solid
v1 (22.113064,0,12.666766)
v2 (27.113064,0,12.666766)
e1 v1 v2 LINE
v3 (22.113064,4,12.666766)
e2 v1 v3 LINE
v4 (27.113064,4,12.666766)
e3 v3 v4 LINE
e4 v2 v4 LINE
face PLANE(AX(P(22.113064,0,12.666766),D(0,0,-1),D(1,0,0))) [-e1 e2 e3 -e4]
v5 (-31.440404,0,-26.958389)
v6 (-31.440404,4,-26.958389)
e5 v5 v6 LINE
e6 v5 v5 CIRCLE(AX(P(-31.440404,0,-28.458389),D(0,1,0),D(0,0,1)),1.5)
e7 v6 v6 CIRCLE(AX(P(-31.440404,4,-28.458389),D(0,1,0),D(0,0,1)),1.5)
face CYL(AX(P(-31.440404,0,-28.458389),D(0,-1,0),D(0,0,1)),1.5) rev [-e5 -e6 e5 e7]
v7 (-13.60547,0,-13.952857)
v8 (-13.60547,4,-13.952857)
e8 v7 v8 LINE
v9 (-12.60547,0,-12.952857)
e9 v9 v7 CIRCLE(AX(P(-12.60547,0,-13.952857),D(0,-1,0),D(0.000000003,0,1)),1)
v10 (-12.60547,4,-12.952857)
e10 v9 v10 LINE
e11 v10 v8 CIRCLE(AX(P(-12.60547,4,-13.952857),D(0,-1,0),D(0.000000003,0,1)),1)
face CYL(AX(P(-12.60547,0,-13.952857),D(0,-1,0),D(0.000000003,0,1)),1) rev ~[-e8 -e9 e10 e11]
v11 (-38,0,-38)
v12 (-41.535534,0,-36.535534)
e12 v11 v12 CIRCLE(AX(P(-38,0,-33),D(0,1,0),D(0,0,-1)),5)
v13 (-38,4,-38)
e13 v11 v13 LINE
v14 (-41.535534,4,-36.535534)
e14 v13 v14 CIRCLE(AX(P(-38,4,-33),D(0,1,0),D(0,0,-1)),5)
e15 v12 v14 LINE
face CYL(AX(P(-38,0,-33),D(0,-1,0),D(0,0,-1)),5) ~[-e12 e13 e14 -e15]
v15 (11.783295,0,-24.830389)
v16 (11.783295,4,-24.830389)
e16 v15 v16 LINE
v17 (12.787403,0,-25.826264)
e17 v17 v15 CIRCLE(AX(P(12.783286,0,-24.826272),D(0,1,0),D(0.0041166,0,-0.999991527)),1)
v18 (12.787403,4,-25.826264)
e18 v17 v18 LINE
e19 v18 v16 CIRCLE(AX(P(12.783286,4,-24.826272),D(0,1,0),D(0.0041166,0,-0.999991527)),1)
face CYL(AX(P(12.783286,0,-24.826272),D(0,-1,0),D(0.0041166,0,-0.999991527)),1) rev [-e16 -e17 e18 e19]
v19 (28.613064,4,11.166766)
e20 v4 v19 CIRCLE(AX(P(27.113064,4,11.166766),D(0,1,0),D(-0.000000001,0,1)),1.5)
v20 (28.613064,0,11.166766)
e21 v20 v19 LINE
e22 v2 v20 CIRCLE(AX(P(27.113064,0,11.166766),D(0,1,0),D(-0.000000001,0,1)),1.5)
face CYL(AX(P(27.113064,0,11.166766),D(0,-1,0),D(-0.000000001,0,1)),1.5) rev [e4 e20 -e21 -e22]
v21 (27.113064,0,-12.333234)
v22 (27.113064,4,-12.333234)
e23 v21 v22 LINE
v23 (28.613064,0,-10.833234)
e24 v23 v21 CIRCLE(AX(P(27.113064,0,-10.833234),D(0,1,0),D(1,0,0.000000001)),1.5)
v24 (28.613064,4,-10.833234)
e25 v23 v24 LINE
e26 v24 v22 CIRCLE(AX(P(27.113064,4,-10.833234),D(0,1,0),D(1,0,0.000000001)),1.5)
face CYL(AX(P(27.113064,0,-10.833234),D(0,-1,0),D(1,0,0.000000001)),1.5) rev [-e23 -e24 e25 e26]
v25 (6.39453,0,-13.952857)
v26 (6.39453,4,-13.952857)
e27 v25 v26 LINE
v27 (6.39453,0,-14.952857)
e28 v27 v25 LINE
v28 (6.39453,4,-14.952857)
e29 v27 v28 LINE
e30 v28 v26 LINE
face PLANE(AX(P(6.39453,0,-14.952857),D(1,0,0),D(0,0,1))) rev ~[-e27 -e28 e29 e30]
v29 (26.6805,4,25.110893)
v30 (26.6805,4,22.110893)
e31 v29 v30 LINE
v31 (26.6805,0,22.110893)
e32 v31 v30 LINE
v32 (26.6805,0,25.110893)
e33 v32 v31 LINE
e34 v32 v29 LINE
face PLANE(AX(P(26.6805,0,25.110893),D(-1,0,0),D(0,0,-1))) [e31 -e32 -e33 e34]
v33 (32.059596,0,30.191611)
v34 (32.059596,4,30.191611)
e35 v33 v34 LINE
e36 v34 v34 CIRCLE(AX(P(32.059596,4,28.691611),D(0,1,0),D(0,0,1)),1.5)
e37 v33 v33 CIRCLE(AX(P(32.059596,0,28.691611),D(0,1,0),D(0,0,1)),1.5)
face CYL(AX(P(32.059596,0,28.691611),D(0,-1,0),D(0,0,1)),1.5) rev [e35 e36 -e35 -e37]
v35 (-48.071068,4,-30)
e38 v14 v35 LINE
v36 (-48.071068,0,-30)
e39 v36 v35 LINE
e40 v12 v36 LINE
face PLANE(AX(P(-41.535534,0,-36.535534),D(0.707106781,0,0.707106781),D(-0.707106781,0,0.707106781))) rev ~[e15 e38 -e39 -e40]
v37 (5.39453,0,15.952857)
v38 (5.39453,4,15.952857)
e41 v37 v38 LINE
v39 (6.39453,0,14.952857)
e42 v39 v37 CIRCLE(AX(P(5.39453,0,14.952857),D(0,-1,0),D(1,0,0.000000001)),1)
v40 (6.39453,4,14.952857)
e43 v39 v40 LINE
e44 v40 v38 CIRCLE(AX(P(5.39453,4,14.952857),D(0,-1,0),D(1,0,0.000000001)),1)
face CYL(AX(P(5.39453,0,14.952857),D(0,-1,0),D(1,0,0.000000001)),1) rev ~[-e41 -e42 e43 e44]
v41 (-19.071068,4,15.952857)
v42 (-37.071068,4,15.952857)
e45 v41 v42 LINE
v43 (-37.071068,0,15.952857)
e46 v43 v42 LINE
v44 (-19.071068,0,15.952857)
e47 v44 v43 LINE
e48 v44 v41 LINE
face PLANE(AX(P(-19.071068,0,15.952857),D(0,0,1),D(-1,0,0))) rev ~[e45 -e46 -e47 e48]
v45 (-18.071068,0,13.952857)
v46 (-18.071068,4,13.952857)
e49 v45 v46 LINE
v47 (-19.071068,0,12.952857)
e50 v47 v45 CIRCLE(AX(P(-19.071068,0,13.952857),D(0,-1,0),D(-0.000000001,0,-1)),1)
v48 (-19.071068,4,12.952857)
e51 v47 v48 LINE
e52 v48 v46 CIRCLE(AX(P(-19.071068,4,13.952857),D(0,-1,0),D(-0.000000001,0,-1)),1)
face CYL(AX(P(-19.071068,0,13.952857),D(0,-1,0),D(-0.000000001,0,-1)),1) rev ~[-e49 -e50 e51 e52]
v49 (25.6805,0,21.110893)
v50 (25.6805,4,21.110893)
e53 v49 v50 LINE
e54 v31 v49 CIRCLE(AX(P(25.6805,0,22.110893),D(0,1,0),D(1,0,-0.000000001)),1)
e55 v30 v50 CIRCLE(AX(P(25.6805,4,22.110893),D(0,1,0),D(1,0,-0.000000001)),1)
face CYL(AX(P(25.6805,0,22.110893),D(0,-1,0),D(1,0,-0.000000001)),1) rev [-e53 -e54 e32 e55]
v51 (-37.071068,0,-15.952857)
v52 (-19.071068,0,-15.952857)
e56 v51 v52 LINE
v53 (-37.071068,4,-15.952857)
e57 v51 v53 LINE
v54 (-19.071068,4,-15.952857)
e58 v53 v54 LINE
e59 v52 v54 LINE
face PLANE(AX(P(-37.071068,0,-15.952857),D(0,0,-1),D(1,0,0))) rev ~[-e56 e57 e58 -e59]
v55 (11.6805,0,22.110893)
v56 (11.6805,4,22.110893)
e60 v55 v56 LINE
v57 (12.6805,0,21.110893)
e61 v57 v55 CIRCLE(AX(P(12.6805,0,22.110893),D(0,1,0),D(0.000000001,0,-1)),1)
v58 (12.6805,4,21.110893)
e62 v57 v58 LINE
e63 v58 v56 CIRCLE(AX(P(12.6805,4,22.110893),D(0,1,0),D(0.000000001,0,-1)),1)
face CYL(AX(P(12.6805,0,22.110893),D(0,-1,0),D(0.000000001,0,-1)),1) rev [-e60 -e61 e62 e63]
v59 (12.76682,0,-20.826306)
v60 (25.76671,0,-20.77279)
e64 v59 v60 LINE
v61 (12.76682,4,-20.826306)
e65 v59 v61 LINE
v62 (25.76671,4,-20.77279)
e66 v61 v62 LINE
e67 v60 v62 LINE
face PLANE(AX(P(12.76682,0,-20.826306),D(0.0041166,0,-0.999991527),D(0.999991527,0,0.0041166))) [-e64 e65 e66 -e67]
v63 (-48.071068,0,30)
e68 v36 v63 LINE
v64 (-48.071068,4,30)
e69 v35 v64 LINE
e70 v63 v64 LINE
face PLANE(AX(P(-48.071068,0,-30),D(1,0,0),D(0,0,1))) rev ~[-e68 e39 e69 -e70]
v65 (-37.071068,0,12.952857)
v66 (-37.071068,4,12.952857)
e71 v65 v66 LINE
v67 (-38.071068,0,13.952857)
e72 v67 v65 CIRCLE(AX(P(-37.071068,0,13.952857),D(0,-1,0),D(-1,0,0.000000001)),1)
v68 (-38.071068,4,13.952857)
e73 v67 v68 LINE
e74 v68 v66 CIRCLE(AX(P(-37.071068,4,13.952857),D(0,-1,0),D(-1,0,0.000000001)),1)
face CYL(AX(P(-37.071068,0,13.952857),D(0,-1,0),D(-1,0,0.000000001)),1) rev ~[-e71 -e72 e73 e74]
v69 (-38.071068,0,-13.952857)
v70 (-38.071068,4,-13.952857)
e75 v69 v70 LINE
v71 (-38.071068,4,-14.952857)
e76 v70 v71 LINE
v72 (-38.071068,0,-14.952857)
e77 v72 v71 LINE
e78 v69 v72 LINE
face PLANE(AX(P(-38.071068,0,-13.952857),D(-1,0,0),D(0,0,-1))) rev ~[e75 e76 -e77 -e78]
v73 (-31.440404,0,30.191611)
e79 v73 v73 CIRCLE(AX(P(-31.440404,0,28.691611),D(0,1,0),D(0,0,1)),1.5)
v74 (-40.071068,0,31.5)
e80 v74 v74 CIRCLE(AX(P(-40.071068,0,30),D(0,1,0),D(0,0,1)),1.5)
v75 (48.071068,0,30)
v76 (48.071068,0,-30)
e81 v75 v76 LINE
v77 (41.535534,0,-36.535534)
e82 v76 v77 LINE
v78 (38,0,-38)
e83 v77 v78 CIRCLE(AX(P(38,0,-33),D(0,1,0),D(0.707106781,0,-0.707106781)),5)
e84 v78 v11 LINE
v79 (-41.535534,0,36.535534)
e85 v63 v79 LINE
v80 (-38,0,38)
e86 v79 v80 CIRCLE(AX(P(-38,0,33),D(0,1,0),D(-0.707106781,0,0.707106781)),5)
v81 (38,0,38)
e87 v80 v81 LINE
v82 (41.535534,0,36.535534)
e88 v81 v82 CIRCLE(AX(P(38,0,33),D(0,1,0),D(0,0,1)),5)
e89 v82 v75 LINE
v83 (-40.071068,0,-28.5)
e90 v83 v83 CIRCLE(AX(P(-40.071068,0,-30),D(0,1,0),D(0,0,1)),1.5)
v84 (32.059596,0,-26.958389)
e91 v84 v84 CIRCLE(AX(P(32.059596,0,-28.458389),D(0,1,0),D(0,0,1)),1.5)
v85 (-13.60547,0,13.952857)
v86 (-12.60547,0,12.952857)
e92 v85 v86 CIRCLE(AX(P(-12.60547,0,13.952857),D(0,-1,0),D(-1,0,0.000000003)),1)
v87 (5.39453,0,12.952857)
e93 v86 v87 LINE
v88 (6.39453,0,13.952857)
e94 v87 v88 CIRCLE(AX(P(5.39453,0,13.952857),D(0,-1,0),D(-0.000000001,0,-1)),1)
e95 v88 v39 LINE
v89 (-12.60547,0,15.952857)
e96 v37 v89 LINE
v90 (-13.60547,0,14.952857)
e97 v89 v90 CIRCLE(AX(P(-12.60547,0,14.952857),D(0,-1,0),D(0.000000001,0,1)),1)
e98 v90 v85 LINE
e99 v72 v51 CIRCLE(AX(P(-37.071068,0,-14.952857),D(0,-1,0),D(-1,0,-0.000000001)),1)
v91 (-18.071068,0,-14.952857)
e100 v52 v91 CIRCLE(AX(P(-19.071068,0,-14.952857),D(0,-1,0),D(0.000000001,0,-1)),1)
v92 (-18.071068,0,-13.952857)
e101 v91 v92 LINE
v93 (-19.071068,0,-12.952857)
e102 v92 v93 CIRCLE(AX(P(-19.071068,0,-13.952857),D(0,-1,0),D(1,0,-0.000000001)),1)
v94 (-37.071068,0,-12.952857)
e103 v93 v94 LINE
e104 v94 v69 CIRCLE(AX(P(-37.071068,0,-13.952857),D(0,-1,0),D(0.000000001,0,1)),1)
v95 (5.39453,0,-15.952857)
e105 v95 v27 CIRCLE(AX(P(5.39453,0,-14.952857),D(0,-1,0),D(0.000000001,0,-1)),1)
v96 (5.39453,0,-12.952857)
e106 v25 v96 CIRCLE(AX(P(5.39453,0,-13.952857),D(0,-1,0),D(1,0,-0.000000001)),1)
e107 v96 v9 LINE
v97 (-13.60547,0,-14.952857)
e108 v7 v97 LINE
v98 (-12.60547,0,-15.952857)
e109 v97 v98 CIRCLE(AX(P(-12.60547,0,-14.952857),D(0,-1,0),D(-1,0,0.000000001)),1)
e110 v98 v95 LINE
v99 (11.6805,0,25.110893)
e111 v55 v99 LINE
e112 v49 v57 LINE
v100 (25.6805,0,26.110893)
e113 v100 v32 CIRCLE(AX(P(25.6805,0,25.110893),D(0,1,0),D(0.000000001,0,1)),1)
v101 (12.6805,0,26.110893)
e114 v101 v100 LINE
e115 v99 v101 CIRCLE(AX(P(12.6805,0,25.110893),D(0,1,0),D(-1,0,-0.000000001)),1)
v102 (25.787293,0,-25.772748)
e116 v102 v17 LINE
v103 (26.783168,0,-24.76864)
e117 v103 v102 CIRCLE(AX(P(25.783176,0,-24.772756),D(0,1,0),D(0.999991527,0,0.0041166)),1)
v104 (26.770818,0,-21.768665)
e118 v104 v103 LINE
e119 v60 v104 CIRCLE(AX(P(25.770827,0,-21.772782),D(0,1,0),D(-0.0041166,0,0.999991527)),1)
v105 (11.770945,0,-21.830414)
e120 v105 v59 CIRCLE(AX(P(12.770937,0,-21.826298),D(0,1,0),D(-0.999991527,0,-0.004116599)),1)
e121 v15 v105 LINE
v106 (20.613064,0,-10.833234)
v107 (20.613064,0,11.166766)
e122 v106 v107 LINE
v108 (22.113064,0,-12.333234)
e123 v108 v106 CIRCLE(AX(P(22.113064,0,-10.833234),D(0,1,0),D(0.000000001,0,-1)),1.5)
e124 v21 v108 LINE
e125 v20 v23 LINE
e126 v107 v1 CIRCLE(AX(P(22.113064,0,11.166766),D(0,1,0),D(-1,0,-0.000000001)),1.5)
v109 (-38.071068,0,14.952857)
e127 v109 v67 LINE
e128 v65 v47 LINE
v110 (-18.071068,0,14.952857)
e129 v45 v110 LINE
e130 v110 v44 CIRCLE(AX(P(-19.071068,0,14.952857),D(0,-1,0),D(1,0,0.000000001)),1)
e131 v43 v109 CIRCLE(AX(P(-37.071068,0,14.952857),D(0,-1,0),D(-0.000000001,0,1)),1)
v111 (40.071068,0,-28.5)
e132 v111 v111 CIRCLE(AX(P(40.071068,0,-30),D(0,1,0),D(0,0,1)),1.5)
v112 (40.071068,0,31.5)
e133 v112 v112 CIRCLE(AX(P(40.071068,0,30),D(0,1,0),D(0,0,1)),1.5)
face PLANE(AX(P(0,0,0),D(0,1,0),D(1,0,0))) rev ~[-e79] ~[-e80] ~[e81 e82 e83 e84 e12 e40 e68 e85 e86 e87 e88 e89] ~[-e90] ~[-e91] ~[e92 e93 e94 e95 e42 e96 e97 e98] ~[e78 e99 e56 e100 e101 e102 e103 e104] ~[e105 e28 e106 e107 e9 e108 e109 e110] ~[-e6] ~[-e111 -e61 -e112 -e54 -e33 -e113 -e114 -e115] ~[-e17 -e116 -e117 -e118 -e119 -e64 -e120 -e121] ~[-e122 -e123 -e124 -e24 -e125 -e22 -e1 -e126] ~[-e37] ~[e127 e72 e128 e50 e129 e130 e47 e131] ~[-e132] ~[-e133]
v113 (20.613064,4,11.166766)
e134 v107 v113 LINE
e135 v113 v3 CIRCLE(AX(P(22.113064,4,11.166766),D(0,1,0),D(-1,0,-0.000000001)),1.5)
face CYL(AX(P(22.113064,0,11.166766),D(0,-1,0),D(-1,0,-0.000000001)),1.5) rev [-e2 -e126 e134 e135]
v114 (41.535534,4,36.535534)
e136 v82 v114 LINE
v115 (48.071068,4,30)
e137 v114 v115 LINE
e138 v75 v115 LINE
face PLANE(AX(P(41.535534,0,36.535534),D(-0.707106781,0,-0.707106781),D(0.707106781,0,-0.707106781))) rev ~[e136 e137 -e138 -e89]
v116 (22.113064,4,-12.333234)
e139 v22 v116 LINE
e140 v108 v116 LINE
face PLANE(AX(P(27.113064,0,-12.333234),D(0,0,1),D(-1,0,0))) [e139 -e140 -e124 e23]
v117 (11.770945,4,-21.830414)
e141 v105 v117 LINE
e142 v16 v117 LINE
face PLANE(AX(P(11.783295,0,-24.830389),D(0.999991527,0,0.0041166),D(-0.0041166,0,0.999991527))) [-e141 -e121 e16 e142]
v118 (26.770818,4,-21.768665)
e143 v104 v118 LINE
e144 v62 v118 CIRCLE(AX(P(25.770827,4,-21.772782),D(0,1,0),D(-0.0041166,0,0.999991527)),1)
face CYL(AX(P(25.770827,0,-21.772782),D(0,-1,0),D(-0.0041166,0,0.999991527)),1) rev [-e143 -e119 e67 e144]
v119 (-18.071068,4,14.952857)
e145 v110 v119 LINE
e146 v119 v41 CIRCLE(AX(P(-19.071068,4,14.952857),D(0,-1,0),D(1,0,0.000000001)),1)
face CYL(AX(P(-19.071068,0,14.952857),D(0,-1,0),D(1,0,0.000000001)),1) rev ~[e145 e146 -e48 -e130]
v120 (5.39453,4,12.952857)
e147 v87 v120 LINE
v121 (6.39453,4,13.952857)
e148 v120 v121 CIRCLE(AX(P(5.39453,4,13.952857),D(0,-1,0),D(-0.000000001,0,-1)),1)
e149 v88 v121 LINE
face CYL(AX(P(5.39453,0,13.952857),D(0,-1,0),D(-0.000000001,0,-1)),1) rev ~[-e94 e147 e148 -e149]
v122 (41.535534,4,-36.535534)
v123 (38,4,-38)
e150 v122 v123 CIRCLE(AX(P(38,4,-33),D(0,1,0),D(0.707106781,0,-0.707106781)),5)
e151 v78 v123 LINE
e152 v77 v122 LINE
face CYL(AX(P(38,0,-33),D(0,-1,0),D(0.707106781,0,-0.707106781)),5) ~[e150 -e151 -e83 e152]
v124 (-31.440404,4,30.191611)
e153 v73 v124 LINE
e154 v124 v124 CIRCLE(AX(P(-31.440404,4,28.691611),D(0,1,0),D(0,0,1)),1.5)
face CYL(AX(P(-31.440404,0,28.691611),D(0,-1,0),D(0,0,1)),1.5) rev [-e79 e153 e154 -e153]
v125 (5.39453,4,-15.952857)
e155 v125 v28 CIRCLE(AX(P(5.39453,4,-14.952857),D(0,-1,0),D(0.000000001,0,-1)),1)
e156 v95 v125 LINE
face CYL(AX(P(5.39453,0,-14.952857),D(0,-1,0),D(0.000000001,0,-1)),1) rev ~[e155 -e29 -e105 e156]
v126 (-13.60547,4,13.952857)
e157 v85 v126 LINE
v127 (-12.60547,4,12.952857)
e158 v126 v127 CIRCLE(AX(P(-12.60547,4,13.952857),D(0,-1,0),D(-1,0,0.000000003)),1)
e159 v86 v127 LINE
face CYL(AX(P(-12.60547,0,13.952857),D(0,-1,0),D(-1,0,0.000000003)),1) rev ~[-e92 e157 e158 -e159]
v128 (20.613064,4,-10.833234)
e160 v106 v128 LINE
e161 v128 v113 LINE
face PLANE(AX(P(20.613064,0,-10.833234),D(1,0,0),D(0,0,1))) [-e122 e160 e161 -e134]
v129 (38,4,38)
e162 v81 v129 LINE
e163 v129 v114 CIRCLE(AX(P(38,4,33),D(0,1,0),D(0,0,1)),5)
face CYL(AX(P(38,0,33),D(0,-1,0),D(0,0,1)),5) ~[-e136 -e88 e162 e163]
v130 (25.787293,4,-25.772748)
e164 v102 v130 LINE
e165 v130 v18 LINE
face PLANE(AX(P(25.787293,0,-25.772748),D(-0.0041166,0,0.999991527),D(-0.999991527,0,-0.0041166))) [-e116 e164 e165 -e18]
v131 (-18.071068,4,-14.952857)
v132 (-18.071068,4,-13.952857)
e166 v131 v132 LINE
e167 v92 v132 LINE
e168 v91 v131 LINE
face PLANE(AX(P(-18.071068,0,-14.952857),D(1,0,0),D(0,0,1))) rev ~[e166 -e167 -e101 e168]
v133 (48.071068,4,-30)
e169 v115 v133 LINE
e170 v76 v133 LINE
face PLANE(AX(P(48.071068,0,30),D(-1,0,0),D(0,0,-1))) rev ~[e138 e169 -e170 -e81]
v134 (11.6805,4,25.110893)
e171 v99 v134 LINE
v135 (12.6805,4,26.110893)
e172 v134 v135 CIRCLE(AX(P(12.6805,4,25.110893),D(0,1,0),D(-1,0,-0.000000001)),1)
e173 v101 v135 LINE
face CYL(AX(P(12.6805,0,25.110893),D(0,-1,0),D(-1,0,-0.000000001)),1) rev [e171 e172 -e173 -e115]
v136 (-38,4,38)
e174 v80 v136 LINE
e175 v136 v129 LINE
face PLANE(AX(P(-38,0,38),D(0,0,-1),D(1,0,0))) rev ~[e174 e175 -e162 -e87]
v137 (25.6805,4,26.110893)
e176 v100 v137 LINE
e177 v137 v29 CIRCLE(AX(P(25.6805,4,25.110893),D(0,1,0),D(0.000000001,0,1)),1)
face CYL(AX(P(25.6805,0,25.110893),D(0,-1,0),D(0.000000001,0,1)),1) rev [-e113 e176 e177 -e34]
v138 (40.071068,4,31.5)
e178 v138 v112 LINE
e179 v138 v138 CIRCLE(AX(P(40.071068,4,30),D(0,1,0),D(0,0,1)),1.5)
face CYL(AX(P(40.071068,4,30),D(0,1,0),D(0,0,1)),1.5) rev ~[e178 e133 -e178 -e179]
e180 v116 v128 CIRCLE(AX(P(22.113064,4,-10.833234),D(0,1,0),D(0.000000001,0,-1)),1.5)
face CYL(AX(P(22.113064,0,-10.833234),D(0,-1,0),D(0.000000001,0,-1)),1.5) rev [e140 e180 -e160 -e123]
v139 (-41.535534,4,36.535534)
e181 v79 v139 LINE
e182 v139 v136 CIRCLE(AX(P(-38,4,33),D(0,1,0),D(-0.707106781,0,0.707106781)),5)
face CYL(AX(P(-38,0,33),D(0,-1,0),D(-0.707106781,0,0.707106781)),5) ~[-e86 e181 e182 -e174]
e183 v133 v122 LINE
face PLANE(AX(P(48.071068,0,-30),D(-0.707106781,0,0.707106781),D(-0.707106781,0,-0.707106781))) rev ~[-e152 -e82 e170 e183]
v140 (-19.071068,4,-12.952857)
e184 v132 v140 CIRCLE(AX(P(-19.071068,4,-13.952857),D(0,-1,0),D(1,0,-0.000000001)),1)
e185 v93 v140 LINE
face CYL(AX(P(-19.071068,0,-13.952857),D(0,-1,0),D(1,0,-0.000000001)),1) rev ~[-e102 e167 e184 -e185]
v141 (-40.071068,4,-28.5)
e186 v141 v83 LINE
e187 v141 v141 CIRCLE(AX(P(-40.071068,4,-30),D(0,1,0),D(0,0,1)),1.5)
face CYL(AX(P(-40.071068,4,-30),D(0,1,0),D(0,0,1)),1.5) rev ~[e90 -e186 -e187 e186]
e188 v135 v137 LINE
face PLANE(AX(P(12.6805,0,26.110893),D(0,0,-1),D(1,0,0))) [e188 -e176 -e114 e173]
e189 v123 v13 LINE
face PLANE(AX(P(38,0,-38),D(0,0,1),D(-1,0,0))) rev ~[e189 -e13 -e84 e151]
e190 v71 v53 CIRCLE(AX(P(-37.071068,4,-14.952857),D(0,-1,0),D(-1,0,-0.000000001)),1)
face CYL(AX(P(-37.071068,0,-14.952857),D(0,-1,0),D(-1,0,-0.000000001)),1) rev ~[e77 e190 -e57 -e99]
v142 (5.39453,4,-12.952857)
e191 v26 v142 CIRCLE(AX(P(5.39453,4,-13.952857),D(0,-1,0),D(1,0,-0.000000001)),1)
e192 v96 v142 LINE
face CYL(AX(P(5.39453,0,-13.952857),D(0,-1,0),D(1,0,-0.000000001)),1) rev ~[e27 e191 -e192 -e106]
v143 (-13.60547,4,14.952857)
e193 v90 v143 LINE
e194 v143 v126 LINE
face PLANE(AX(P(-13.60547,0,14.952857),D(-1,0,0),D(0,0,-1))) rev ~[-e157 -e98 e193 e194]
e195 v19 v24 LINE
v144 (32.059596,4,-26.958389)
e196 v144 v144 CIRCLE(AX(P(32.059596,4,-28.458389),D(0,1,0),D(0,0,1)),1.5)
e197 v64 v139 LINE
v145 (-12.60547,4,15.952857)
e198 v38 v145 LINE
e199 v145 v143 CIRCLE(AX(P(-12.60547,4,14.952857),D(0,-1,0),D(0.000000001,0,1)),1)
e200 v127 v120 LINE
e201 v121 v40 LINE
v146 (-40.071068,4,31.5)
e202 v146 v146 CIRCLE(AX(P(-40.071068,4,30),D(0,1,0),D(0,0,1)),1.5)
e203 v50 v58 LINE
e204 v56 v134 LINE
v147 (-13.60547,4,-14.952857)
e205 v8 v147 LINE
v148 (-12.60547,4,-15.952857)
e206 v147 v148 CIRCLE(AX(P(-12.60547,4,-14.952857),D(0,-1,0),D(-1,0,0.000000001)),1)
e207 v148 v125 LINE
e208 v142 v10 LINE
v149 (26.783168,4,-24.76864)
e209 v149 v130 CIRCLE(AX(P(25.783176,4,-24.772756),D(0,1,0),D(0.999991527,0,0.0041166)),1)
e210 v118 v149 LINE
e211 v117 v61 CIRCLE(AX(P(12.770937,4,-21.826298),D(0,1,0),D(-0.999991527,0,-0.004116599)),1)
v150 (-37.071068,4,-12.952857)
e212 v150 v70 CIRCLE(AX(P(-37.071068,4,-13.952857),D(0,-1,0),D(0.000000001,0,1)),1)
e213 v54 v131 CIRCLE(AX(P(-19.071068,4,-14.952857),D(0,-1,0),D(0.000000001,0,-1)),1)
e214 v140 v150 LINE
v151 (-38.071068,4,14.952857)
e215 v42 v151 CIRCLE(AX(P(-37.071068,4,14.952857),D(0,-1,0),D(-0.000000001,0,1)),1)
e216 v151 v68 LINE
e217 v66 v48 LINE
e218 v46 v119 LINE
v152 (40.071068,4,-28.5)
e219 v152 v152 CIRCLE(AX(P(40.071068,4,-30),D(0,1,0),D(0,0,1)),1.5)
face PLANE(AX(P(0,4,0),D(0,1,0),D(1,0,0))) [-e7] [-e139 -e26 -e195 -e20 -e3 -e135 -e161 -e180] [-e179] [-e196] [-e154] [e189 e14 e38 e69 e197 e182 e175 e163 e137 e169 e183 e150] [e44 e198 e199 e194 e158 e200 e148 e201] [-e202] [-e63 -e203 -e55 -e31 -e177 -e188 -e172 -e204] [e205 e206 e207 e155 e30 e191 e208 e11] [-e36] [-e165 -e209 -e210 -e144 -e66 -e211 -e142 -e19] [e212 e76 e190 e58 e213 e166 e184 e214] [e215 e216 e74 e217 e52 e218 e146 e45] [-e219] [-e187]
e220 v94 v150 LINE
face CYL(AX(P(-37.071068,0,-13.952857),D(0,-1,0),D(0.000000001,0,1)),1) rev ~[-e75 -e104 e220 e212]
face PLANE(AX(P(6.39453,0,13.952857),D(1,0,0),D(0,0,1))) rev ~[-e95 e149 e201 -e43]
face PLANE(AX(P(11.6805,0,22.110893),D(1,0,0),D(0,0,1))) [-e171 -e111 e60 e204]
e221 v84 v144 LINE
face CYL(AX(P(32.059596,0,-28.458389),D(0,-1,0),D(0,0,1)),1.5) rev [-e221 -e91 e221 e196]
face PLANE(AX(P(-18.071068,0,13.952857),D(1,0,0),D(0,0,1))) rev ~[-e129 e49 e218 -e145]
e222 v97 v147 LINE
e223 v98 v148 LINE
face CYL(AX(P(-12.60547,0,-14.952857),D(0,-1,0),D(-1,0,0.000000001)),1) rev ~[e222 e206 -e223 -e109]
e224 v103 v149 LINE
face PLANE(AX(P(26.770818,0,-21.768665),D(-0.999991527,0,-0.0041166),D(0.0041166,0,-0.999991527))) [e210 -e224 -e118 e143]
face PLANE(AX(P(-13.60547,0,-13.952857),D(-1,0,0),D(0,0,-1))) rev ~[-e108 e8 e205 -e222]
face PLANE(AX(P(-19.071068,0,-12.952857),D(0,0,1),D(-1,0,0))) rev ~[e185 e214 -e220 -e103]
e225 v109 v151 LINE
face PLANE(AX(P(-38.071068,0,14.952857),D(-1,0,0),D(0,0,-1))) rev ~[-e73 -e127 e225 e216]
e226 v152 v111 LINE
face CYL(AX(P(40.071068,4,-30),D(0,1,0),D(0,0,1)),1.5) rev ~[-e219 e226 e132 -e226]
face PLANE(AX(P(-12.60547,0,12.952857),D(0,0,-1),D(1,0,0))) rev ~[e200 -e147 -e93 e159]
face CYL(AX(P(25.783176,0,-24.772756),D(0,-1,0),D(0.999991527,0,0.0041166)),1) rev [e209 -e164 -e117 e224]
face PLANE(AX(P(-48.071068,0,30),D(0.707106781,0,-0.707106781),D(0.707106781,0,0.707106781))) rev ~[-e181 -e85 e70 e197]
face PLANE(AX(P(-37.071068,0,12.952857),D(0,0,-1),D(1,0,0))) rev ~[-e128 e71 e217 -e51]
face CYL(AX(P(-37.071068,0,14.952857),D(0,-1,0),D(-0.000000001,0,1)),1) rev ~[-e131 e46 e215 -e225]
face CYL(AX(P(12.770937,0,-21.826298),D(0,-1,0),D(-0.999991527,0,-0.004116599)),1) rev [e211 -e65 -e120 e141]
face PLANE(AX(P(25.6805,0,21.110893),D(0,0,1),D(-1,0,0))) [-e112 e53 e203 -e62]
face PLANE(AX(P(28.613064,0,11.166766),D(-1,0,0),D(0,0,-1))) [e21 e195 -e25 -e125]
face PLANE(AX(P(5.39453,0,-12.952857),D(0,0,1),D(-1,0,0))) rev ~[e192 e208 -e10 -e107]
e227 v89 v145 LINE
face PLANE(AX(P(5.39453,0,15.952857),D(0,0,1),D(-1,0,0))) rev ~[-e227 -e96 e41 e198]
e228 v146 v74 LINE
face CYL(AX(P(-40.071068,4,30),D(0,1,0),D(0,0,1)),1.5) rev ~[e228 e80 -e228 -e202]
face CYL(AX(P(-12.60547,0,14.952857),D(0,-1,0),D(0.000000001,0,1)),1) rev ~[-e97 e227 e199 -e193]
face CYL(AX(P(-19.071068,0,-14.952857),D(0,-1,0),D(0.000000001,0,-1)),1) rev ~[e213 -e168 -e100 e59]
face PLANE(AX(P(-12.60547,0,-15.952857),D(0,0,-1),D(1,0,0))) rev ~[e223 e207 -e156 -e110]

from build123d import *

# Parameters (mm, degrees)
SKETCH1_R           = 1.5
BOSS_EXTRUDE1_DEPTH = 4
SKETCH2_R           = 1.5
CUT_EXTRUDE1_DEPTH  = 10


with BuildPart() as part:
    # Sketch1 → Boss-Extrude1 (new body)
    with BuildSketch(Plane(origin=(0, 0, 0), x_dir=(1, 0, 0), z_dir=(0, 1, 0))):
        with BuildLine():
            Line((-48.071067812, 30), (-48.071067812, -30))
            Line((-48.071067812, -30), (-41.535533906, -36.535533906))
            ThreePointArc((-41.535533906, -36.535533906), (-39.913417162, -37.619397663), (-38, -38))
            Line((-38, -38), (38, -38))
            ThreePointArc((38, -38), (39.913417162, -37.619397663), (41.535533906, -36.535533906))
            Line((41.535533906, -36.535533906), (48.071067812, -30))
            Line((48.071067812, -30), (48.071067812, 30))
            Line((48.071067812, 30), (41.535533906, 36.535533906))
            ThreePointArc((41.535533906, 36.535533906), (39.913417162, 37.619397663), (38, 38))
            Line((38, 38), (-38, 38))
            ThreePointArc((-38, 38), (-39.913417162, 37.619397663), (-41.535533906, 36.535533906))
            Line((-41.535533906, 36.535533906), (-48.071067812, 30))
        make_face()
        with Locations(Location((32.059596398, -28.691611003, 0), (0, 0, 270))):
            Circle(SKETCH1_R, mode=Mode.SUBTRACT)
        with Locations(Location((32.059596398, 28.458388997, 0), (0, 0, 270))):
            Circle(SKETCH1_R, mode=Mode.SUBTRACT)
        with Locations(Location((-31.440403602, -28.691611003, 0), (0, 0, 270))):
            Circle(SKETCH1_R, mode=Mode.SUBTRACT)
        with Locations(Location((-31.440403602, 28.458388997, 0), (0, 0, 270))):
            Circle(SKETCH1_R, mode=Mode.SUBTRACT)
        with BuildLine():
            Line((26.770818028, 21.768665175), (26.783167828, 24.768639755))
            ThreePointArc((26.783167828, 24.768639755), (26.493187967, 25.476946269), (25.787292902, 25.772747882))
            Line((25.787292902, 25.772747882), (12.787403054, 25.826263684))
            ThreePointArc((12.787403054, 25.826263684), (12.07909654, 25.536283823), (11.783294927, 24.830388757))
            Line((11.783294927, 24.830388757), (11.770945126, 21.830414177))
            ThreePointArc((11.770945126, 21.830414177), (12.060924988, 21.122107663), (12.766820053, 20.82630605))
            Line((12.766820053, 20.82630605), (25.766709901, 20.772790248))
            ThreePointArc((25.766709901, 20.772790248), (26.475016415, 21.062770109), (26.770818028, 21.768665175))
        make_face(mode=Mode.SUBTRACT)
        with BuildLine():
            Line((28.613064126, -11.166765747), (28.613064126, 10.833234253))
            ThreePointArc((28.613064126, 10.833234253), (28.173724298, 11.893894425), (27.113064126, 12.333234253))
            Line((27.113064126, 12.333234253), (22.113064126, 12.333234253))
            ThreePointArc((22.113064126, 12.333234253), (21.052403954, 11.893894425), (20.613064126, 10.833234253))
            Line((20.613064126, 10.833234253), (20.613064126, -11.166765747))
            ThreePointArc((20.613064126, -11.166765747), (21.052403954, -12.227425919), (22.113064126, -12.666765747))
            Line((22.113064126, -12.666765747), (27.113064126, -12.666765747))
            ThreePointArc((27.113064126, -12.666765747), (28.173724298, -12.227425919), (28.613064126, -11.166765747))
        make_face(mode=Mode.SUBTRACT)
        with BuildLine():
            Line((26.680500347, -25.110893415), (26.680500347, -22.110893415))
            ThreePointArc((26.680500347, -22.110893415), (26.387607128, -21.403786634), (25.680500347, -21.110893415))
            Line((25.680500347, -21.110893415), (12.680500347, -21.110893415))
            ThreePointArc((12.680500347, -21.110893415), (11.973393565, -21.403786634), (11.680500347, -22.110893415))
            Line((11.680500347, -22.110893415), (11.680500347, -25.110893415))
            ThreePointArc((11.680500347, -25.110893415), (11.973393565, -25.818000196), (12.680500347, -26.110893415))
            Line((12.680500347, -26.110893415), (25.680500347, -26.110893415))
            ThreePointArc((25.680500347, -26.110893415), (26.387607128, -25.818000196), (26.680500347, -25.110893415))
        make_face(mode=Mode.SUBTRACT)
        with BuildLine():
            Line((-37.071067812, 15.952856913), (-19.071067812, 15.952856913))
            ThreePointArc((-19.071067812, 15.952856913), (-18.363961031, 15.659963694), (-18.071067812, 14.952856913))
            Line((-18.071067812, 14.952856913), (-18.071067812, 13.952856913))
            ThreePointArc((-18.071067812, 13.952856913), (-18.363961031, 13.245750131), (-19.071067812, 12.952856913))
            Line((-19.071067812, 12.952856913), (-37.071067812, 12.952856913))
            ThreePointArc((-37.071067812, 12.952856913), (-37.778174593, 13.245750131), (-38.071067812, 13.952856913))
            Line((-38.071067812, 13.952856913), (-38.071067812, 14.952856913))
            ThreePointArc((-38.071067812, 14.952856913), (-37.778174593, 15.659963694), (-37.071067812, 15.952856913))
        make_face(mode=Mode.SUBTRACT)
        with BuildLine():
            Line((6.394530071, 14.952856913), (6.394530071, 13.952856913))
            ThreePointArc((6.394530071, 13.952856913), (6.101636852, 13.245750131), (5.394530071, 12.952856913))
            Line((5.394530071, 12.952856913), (-12.605469929, 12.952856913))
            ThreePointArc((-12.605469929, 12.952856913), (-13.312576711, 13.245750131), (-13.605469929, 13.952856913))
            Line((-13.605469929, 13.952856913), (-13.605469929, 14.952856913))
            ThreePointArc((-13.605469929, 14.952856913), (-13.312576711, 15.659963694), (-12.605469929, 15.952856913))
            Line((-12.605469929, 15.952856913), (5.394530071, 15.952856913))
            ThreePointArc((5.394530071, 15.952856913), (6.101636852, 15.659963694), (6.394530071, 14.952856913))
        make_face(mode=Mode.SUBTRACT)
        with BuildLine():
            Line((-38.071067812, -14.952856913), (-38.071067812, -13.952856913))
            ThreePointArc((-38.071067812, -13.952856913), (-37.778174593, -13.245750131), (-37.071067812, -12.952856913))
            Line((-37.071067812, -12.952856913), (-19.071067812, -12.952856913))
            ThreePointArc((-19.071067812, -12.952856913), (-18.363961031, -13.245750131), (-18.071067812, -13.952856913))
            Line((-18.071067812, -13.952856913), (-18.071067812, -14.952856913))
            ThreePointArc((-18.071067812, -14.952856913), (-18.363961031, -15.659963694), (-19.071067812, -15.952856913))
            Line((-19.071067812, -15.952856913), (-37.071067812, -15.952856913))
            ThreePointArc((-37.071067812, -15.952856913), (-37.778174593, -15.659963694), (-38.071067812, -14.952856913))
        make_face(mode=Mode.SUBTRACT)
        with BuildLine():
            Line((-13.605469929, -14.952856913), (-13.605469929, -13.952856913))
            ThreePointArc((-13.605469929, -13.952856913), (-13.312576711, -13.245750131), (-12.605469929, -12.952856913))
            Line((-12.605469929, -12.952856913), (5.394530071, -12.952856913))
            ThreePointArc((5.394530071, -12.952856913), (6.101636852, -13.245750131), (6.394530071, -13.952856913))
            Line((6.394530071, -13.952856913), (6.394530071, -14.952856913))
            ThreePointArc((6.394530071, -14.952856913), (6.101636852, -15.659963694), (5.394530071, -15.952856913))
            Line((5.394530071, -15.952856913), (-12.605469929, -15.952856913))
            ThreePointArc((-12.605469929, -15.952856913), (-13.312576711, -15.659963694), (-13.605469929, -14.952856913))
        make_face(mode=Mode.SUBTRACT)
    extrude(amount=BOSS_EXTRUDE1_DEPTH)

    # Sketch2 → Cut-Extrude1 (cut)
    with BuildSketch(Plane(origin=(0, 4, 0), x_dir=(1, 0, 0), z_dir=(0, 1, 0))):
        with Locations(Location((-40.071067812, 30, 0), (0, 0, 270))):
            Circle(SKETCH2_R)
        with Locations(Location((40.071067812, 30, 0), (0, 0, 270))):
            Circle(SKETCH2_R)
        with Locations(Location((40.071067812, -30, 0), (0, 0, 270))):
            Circle(SKETCH2_R)
        with Locations(Location((-40.071067812, -30, 0), (0, 0, 270))):
            Circle(SKETCH2_R)
    extrude(amount=-CUT_EXTRUDE1_DEPTH, mode=Mode.SUBTRACT)


solid = part.part
